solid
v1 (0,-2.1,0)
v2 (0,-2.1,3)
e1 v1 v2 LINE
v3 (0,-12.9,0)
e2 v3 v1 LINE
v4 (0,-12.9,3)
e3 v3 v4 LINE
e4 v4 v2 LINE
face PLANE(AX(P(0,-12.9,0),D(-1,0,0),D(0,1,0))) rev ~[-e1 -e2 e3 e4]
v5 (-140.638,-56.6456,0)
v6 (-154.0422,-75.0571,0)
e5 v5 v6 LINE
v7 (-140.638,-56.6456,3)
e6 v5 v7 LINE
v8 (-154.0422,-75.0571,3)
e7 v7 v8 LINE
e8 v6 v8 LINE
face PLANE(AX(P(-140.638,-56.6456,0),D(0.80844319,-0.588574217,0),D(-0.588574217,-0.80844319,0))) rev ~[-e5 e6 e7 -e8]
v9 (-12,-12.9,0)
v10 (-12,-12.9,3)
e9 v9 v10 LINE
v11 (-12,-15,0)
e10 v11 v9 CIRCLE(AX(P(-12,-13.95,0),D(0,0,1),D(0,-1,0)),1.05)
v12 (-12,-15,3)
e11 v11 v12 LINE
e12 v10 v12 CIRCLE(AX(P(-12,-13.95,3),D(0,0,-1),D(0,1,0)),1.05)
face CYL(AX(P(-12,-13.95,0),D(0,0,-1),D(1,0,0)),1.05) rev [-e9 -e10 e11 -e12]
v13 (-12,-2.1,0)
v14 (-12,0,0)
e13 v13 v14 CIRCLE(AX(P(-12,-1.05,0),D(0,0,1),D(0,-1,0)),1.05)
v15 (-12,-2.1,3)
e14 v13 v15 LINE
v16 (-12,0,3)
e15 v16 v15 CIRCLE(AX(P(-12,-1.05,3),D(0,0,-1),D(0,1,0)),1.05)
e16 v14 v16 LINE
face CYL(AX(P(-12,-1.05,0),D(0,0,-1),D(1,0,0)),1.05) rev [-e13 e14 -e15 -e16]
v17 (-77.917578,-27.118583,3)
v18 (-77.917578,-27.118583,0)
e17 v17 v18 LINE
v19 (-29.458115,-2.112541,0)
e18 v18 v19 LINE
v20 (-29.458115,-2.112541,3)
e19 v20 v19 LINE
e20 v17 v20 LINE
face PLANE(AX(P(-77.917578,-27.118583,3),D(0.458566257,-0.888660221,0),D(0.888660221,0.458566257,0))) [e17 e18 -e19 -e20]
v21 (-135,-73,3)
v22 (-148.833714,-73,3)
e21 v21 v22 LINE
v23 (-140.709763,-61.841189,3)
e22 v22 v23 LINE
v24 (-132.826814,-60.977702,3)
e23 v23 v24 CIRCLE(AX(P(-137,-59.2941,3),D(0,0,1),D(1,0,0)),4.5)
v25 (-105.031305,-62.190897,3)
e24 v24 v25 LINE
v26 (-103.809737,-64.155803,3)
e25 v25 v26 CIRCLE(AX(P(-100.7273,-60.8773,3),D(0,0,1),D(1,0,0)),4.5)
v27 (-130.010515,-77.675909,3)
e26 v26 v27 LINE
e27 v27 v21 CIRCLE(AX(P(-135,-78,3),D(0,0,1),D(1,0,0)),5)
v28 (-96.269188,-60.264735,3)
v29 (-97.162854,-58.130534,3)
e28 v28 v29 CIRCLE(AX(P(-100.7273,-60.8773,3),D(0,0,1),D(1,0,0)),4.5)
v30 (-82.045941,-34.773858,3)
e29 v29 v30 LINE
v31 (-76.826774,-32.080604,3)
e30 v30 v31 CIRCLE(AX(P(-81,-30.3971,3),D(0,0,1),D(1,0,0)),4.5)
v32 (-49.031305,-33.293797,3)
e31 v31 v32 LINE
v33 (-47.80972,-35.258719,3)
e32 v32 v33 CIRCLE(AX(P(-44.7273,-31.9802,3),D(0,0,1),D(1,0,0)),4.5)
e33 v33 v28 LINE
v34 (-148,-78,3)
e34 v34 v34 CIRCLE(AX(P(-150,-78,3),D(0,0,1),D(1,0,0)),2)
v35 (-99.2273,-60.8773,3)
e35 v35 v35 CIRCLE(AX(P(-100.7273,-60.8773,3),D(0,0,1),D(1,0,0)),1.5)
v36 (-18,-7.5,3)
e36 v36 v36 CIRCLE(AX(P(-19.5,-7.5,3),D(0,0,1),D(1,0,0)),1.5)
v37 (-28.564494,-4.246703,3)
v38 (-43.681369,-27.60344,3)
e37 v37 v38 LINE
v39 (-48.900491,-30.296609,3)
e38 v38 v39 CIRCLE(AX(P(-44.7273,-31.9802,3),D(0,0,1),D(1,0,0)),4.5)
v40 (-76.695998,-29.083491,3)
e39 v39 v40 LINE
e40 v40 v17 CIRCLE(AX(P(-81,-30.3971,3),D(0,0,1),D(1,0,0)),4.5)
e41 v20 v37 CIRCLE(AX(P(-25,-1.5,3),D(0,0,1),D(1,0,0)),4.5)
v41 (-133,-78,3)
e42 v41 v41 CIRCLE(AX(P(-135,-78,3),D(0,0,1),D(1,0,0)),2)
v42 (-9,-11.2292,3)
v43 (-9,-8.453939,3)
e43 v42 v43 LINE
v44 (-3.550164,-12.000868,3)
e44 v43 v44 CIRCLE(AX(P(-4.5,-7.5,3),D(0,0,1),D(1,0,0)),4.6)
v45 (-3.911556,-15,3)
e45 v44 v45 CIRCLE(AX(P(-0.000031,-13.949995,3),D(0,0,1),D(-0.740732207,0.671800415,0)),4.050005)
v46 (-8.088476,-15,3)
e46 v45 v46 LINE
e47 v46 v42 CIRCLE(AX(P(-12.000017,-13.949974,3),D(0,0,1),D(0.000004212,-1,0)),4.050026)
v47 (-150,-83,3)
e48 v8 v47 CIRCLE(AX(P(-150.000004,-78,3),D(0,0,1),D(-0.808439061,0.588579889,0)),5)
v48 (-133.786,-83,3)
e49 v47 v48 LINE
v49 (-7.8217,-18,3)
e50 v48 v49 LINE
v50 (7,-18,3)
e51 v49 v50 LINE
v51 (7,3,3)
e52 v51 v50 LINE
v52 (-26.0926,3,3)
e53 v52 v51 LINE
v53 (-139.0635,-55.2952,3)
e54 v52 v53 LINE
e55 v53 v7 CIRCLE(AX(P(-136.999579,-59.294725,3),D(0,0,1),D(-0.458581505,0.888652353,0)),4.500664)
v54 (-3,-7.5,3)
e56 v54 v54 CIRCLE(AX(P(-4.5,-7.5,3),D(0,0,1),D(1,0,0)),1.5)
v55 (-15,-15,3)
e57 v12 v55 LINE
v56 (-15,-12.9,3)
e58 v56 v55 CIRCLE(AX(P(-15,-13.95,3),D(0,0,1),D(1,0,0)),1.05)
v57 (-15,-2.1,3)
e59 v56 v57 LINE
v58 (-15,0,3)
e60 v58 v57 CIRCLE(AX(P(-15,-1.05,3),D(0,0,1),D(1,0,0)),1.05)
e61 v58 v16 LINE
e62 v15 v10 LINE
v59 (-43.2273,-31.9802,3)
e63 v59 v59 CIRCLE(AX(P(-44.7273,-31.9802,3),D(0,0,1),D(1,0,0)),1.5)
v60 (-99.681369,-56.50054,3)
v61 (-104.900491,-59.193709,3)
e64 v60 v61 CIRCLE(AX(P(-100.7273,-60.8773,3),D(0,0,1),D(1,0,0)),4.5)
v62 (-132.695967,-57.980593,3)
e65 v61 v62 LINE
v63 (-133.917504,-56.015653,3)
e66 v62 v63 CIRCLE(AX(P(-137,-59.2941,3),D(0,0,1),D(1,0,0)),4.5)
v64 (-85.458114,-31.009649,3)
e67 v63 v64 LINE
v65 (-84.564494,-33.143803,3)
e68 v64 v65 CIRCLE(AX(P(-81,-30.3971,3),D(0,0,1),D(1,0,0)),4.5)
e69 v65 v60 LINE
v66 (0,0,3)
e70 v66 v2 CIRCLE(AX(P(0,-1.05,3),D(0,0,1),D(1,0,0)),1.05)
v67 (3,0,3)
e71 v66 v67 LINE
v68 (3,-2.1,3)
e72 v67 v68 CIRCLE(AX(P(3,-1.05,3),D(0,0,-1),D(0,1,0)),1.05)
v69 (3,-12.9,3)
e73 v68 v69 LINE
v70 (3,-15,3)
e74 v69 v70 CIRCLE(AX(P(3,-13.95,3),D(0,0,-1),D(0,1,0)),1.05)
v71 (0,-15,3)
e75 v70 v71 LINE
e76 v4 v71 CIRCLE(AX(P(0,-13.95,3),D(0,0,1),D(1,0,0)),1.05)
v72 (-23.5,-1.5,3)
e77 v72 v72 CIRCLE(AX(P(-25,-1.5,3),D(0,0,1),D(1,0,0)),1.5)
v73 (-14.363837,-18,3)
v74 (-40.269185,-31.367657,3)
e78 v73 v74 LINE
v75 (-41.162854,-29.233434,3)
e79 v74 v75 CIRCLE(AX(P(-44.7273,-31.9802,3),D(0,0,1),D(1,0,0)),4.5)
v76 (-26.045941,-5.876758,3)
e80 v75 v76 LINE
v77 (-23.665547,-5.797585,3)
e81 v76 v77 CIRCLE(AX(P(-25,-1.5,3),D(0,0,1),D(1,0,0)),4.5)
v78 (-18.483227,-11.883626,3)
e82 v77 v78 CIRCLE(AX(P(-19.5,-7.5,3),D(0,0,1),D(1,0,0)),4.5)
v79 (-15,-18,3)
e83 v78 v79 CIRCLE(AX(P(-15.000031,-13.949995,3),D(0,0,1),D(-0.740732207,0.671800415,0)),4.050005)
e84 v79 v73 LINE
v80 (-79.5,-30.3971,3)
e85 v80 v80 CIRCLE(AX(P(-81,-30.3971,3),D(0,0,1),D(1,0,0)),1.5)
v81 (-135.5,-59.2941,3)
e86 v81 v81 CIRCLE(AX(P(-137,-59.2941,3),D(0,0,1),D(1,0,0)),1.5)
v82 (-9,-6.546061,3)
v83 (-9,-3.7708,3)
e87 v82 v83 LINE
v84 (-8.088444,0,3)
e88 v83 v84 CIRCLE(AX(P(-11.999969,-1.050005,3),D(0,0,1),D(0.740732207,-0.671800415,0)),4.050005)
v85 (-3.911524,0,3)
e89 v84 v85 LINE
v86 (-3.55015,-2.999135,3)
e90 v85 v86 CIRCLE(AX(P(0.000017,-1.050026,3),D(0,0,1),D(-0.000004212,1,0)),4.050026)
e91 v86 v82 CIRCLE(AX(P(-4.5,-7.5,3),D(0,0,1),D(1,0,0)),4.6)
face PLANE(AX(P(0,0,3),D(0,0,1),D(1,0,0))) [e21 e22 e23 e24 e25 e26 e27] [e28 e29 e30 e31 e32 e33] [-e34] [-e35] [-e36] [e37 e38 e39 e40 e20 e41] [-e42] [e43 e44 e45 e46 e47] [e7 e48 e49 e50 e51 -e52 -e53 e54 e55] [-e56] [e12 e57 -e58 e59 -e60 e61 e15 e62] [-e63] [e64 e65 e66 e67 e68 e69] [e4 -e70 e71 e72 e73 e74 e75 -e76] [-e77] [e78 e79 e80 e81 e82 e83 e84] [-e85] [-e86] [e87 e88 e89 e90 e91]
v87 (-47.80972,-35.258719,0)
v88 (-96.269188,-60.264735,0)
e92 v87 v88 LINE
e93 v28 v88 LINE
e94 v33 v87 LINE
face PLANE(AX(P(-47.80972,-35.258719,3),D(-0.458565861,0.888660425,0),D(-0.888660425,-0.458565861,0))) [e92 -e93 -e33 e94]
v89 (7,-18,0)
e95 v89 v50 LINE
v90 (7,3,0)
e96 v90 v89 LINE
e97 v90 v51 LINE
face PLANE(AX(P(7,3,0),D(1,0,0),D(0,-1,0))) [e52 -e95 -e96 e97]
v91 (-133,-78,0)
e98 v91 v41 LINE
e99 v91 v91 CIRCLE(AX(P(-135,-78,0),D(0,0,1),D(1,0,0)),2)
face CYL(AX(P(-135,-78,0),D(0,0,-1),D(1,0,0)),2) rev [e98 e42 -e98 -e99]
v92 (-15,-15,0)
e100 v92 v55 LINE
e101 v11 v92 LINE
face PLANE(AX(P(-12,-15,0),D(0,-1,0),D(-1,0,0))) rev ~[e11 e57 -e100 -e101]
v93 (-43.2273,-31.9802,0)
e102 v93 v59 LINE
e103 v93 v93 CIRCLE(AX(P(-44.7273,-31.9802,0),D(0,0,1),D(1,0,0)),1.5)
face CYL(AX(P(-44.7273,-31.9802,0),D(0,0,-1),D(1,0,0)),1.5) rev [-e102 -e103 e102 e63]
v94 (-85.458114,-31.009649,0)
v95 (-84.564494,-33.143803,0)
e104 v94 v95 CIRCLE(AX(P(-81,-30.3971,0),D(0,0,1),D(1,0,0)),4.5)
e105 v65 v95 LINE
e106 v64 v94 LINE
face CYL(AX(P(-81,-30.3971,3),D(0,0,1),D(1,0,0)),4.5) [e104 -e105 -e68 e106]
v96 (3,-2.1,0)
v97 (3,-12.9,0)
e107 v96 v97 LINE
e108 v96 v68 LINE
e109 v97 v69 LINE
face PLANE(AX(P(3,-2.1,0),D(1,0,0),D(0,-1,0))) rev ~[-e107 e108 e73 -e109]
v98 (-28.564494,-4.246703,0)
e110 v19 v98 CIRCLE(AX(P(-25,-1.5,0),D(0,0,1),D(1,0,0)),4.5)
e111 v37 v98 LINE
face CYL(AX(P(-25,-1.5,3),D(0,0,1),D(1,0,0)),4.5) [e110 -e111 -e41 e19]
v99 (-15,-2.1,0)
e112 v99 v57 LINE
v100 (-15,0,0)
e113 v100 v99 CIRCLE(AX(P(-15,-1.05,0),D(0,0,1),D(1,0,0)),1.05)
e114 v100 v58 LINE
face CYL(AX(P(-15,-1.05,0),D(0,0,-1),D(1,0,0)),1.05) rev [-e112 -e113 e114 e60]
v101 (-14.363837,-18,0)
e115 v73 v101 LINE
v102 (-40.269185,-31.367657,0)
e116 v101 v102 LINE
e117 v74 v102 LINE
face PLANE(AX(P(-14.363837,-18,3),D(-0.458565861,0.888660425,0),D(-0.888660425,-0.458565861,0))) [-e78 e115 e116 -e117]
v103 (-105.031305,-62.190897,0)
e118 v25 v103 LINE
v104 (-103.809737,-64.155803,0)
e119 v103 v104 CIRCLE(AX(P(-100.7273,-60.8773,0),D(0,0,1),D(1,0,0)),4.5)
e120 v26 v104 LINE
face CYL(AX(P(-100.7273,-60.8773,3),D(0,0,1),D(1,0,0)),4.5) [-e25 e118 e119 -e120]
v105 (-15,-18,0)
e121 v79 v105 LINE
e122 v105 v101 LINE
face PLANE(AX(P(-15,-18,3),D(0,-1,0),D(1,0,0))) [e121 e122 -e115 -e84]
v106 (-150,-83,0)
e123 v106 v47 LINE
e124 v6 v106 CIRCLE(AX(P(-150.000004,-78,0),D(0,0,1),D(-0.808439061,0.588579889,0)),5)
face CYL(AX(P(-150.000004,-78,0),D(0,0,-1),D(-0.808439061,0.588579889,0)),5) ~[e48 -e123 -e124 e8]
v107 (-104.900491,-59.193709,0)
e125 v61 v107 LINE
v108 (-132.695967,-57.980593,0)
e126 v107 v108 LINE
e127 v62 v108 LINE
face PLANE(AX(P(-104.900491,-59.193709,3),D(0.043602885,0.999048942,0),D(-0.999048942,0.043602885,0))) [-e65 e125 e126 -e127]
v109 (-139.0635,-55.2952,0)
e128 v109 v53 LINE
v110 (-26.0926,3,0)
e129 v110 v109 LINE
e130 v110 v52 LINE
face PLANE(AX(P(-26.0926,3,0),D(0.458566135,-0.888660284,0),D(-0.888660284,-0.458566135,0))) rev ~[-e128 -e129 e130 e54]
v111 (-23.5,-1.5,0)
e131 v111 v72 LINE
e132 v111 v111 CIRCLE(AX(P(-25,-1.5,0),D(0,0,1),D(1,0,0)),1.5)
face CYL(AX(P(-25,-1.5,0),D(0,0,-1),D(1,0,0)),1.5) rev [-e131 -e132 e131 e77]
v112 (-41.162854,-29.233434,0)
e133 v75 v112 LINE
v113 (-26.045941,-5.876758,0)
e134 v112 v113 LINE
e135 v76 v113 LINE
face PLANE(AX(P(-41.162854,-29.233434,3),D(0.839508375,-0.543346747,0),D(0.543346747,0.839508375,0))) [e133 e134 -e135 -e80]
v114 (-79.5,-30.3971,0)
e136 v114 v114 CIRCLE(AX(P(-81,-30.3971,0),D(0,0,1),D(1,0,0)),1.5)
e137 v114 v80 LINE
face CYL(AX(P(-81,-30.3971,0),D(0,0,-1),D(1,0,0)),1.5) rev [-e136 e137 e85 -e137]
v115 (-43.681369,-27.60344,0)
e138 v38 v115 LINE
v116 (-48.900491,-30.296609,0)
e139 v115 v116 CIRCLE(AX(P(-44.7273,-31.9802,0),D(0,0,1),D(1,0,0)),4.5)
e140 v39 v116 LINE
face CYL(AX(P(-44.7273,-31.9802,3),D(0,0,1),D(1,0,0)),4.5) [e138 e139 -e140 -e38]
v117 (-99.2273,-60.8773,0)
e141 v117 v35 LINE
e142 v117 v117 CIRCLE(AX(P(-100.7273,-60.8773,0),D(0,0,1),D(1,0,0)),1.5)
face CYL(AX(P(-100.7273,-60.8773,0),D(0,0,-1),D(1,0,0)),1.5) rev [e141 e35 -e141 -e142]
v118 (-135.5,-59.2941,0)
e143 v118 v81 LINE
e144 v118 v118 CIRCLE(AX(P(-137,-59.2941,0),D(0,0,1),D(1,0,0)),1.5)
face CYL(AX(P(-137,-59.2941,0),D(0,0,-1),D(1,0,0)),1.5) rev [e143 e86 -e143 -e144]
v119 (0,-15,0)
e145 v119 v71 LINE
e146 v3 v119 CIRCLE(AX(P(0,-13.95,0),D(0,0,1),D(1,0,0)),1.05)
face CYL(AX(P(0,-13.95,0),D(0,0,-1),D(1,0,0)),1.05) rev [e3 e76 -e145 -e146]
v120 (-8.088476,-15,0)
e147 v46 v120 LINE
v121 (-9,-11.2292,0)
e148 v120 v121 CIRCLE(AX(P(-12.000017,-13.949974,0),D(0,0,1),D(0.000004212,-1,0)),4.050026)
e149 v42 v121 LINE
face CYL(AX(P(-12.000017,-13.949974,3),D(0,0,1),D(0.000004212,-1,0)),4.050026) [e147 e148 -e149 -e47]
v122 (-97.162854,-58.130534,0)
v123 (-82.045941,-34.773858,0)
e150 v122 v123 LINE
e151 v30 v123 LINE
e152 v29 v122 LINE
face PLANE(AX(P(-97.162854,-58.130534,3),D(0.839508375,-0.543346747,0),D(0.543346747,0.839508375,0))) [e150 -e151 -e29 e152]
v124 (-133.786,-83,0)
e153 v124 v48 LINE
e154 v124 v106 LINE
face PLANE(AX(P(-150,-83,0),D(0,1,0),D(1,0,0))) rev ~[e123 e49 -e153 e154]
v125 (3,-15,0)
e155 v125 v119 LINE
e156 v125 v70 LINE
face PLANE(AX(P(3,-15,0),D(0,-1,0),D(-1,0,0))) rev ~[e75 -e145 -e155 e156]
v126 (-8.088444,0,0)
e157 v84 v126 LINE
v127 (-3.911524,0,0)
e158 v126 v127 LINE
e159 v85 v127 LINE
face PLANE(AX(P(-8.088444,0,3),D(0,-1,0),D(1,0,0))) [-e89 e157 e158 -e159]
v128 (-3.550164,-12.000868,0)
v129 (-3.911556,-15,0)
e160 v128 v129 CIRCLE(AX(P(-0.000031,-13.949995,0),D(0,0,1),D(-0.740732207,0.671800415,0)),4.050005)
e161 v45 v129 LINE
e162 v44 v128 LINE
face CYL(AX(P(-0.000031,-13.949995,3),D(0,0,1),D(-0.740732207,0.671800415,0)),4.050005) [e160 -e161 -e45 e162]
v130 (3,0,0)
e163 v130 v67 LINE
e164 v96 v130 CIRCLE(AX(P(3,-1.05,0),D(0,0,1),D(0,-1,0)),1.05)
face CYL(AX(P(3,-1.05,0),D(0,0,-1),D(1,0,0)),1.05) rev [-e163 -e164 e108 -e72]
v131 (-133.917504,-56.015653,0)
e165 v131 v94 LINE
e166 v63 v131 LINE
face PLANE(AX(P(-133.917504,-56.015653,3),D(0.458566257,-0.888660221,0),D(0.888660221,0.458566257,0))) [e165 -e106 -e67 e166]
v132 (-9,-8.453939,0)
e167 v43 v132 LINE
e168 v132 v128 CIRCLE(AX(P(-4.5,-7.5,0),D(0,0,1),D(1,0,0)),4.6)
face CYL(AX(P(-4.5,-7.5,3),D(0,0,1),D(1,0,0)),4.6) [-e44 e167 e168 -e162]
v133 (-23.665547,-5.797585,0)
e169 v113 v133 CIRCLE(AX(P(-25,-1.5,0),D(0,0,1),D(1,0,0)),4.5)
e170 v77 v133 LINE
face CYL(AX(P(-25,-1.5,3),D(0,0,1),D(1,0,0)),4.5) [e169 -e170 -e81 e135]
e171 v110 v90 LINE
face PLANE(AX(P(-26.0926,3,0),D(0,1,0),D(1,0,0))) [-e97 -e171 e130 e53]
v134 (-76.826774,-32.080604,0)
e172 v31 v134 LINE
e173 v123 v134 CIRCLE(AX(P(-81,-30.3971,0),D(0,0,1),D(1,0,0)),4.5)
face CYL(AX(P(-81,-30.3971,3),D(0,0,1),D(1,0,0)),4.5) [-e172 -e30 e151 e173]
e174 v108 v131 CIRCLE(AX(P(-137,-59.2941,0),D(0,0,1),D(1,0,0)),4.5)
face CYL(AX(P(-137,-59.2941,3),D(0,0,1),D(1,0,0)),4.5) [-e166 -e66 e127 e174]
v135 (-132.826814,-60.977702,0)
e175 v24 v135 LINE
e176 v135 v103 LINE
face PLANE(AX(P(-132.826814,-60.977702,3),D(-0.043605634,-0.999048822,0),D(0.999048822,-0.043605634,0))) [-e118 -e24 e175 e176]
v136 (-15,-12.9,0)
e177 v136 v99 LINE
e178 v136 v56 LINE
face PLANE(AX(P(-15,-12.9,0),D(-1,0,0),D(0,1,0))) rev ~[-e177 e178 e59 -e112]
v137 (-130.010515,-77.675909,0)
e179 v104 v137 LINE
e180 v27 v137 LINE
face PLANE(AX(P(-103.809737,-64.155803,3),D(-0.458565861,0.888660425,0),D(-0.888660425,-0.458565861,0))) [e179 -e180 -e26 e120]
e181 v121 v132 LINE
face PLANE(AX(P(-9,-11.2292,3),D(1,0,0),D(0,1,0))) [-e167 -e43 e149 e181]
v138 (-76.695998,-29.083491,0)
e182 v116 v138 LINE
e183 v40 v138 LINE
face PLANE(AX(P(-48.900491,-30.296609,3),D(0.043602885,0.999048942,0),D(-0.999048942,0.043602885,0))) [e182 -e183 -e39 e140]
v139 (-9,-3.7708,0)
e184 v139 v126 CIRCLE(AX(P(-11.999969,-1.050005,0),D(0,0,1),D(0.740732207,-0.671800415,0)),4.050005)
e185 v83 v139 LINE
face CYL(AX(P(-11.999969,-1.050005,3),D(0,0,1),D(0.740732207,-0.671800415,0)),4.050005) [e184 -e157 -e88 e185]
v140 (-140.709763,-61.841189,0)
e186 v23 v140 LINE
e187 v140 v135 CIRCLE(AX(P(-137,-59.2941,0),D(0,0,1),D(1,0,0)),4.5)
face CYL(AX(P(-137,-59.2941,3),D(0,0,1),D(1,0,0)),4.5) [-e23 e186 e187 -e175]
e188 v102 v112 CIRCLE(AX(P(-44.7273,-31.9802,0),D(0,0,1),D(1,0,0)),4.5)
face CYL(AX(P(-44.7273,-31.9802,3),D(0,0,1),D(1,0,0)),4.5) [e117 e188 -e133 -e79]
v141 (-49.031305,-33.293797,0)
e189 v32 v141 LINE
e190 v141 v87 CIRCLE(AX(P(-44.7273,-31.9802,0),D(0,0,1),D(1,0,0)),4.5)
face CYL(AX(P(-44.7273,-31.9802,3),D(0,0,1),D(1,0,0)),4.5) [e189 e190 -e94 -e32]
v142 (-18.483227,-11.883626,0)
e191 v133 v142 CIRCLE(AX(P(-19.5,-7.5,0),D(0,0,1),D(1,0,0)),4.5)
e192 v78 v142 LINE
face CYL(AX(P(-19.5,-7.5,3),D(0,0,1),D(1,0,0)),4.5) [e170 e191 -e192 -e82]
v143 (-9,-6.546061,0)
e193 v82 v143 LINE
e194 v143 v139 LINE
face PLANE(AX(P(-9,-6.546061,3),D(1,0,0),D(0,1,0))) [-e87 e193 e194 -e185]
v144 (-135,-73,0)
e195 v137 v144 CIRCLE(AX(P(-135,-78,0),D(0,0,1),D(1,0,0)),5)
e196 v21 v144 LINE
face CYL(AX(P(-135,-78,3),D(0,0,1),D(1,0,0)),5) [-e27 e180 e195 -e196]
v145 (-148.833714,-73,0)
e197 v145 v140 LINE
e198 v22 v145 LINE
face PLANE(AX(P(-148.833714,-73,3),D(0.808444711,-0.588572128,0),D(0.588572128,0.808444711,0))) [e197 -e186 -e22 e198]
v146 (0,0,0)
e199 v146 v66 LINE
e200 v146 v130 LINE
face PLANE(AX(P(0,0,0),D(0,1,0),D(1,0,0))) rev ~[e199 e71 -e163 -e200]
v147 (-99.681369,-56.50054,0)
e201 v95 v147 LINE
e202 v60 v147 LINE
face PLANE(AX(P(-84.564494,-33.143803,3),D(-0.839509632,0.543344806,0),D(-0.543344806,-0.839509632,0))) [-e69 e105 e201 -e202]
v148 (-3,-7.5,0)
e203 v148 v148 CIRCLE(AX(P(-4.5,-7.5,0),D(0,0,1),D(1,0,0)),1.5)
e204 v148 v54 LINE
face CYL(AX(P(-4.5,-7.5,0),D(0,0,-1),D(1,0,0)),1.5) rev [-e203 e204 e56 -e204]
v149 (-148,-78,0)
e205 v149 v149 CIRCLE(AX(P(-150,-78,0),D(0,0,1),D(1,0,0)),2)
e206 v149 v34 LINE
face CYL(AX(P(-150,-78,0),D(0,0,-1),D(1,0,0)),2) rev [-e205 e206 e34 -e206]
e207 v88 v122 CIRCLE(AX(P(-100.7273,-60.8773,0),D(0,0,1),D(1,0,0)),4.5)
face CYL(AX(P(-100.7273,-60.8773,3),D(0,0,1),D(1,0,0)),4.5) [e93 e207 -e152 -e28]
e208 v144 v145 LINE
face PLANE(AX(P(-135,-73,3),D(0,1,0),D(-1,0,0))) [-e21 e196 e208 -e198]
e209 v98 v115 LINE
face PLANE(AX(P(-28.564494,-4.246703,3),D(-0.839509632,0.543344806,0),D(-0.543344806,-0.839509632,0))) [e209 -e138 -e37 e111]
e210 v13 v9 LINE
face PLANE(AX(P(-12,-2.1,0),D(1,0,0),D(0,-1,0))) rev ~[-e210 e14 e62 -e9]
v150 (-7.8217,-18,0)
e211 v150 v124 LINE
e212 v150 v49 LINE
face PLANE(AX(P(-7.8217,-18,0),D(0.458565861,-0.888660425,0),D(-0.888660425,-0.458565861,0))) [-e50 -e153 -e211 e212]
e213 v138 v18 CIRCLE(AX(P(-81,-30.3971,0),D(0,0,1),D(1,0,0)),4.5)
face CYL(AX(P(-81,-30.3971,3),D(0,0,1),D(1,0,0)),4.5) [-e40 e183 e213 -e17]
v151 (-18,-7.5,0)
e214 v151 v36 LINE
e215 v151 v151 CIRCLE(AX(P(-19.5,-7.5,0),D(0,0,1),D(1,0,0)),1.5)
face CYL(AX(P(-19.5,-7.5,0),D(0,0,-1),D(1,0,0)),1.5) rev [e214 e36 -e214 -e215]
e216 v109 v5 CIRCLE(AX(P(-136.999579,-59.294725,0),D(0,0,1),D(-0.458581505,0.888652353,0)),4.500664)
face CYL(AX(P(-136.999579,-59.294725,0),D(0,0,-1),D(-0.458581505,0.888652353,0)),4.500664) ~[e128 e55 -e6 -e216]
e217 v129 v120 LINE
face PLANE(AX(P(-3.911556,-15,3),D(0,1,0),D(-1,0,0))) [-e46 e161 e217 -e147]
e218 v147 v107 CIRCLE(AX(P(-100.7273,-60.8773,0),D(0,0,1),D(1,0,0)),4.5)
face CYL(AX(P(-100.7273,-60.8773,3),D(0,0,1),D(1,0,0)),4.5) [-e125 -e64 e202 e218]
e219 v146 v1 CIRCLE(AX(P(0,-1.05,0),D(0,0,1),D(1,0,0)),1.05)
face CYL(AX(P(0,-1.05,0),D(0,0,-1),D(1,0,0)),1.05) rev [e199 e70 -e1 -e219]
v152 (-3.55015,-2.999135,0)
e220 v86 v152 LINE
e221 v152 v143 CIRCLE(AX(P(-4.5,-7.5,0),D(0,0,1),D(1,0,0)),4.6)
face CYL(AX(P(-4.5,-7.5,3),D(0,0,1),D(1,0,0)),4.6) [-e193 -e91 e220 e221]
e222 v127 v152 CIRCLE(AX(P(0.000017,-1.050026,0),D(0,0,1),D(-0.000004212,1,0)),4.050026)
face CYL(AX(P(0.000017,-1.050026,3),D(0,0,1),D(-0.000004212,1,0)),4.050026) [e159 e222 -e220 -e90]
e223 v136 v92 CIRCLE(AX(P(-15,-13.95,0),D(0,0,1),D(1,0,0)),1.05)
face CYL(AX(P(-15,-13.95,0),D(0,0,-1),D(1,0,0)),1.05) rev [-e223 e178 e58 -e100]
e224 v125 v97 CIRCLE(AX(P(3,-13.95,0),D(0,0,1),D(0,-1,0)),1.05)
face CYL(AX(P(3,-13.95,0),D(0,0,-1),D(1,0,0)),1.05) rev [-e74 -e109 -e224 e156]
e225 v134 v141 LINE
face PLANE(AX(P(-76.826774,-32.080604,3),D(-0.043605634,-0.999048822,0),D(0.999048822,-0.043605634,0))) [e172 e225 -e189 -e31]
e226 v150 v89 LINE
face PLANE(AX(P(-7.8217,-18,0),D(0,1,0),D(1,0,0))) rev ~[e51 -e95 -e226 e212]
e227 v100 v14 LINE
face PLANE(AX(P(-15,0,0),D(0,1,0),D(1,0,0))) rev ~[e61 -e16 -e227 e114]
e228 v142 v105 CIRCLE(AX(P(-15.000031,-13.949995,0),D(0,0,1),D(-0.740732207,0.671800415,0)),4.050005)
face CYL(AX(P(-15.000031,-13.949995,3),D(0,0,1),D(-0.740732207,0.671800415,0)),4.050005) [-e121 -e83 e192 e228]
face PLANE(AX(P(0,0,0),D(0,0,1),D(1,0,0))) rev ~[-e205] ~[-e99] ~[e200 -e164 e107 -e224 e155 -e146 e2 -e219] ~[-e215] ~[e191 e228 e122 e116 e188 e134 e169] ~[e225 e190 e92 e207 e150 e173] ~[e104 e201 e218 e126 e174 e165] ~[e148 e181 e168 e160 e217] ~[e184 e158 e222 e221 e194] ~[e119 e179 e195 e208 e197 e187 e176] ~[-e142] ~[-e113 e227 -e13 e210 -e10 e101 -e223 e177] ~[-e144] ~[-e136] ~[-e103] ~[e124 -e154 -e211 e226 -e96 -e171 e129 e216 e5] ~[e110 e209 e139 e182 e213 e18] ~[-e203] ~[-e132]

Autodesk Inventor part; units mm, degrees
ref_plane "YZ Plane" through (0, 0, 0) normal (1, 0, 0) x (0, 1, 0)
ref_plane "XZ Plane" through (0, 0, 0) normal (0, 1, 0) x (-1, 0, 0)
ref_plane "XY Plane" through (0, 0, 0) normal (0, 0, 1) x (1, 0, 0)
sketch "スケッチ1" plane through (0, 0, 0) normal (0, 0, 1) x (1, 0, 0)
  line L0 (0, 0) -> (3, 0)
  line L1 (3, 0) -> (3, -15)
  line L2 (3, -15) -> (0, -15)
  line L3 (0, -15) -> (0, 0)
  line L4 (-15, 0) -> (-12, 0)
  line L5 (-12, 0) -> (-12, -15)
  line L6 (-12, -15) -> (-15, -15)
  line L7 (-15, -15) -> (-15, 0)
  line L8 (-26.0926, 3) -> (-139.0635, -55.2952)
  line L9 (7, 3) -> (7, -18)
  line L10 (-7.8217, -18) -> (-133.786, -83)
  circle A0 centre (-135, -78) radius 2
  circle A1 centre (-150, -78) radius 2
  line L11 (-150, -78) -> (-135, -78) construction
  arc A2 (-154.0422, -75.0571) -> (-150, -83) centre (-150, -78) ccw
  line L12 (-140.638, -56.6456) -> (-154.0422, -75.0571)
  circle A3 centre (-15, -1.05) radius 1.05
  circle A4 centre (-15, -13.95) radius 1.05
  circle A5 centre (-12, -13.95) radius 1.05
  circle A6 centre (-12, -1.05) radius 1.05
  circle A7 centre (0, -1.05) radius 1.05
  circle A8 centre (3, -1.05) radius 1.05
  circle A9 centre (0, -13.95) radius 1.05
  circle A10 centre (3, -13.95) radius 1.05
  arc A11 (-139.0635, -55.2952) -> (-140.638, -56.6456) centre (-137, -59.2941) ccw
  circle A12 centre (-100.7273, -60.8773) radius 4.5 construction
  circle A13 centre (-81, -30.3971) radius 4.5 construction
  circle A14 centre (-44.7273, -31.9802) radius 4.5 construction
  circle A15 centre (-25, -1.5) radius 4.5 construction
  circle A16 centre (-137, -59.2941) radius 1.5
  circle A17 centre (-100.7273, -60.8773) radius 1.5
  circle A18 centre (-81, -30.3971) radius 1.5
  circle A19 centre (-44.7273, -31.9802) radius 1.5
  circle A20 centre (-25, -1.5) radius 1.5
  circle A21 centre (-4.5, -7.5) radius 1.5
  circle A22 centre (-19.5, -7.5) radius 1.5
  line L13 (-26.0926, 3) -> (7, 3)
  line L14 (-7.8217, -18) -> (7, -18)
  line L15 (-150, -83) -> (-133.786, -83)
  circle A23 centre (-135, -78) radius 5
  line L16 (-25, -1.5) -> (-44.7273, -31.9802) construction
  line L17 (-44.7273, -31.9802) -> (-81, -30.3971) construction
  line L18 (-81, -30.3971) -> (-100.7273, -60.8773) construction
  line L19 (-100.7273, -60.8773) -> (-137, -59.2941) construction
  point P0 (0, -12.9)
  point P1 (0, -2.1)
  point P2 (3, -2.1)
  point P3 (3, -12.9)
  point P4 (-12, -2.1)
  point P5 (-12, -12.9)
  point P6 (-15, -12.9)
  point P7 (-15, -2.1)
  dimension "d0" = 3
  dimension "d1" = 15
  dimension "d2" = 3
  dimension "d3" = 15
  dimension "d4" = 12
  dimension "d5" = 4
  dimension "d6" = 4
  dimension "d7" = 15
  dimension "d8" = 4
  dimension "d12" = 3
  dimension "d13" = 2.1
  dimension "d14" = 2.1
  dimension "d15" = 2.1
  dimension "d16" = 2.1
  dimension "d17" = 2.1
  dimension "d18" = 2.1
  dimension "d19" = 2.1
  dimension "d20" = 2.1
  dimension "d23" = 9
  dimension "d24" = 9
  dimension "d25" = 9
  dimension "d26" = 9
  dimension "d27" = 9
  dimension "d28" = 3
  dimension "d29" = 3
  dimension "d30" = 3
  dimension "d31" = 3
  dimension "d32" = 3
  dimension "d33" = 10
  dimension "d34" = 3
  dimension "d35" = 3
  dimension "d36" = 4.5
  dimension "d37" = 4.5
  dimension "d38" = 7.5
  dimension "d39" = 7.5
  dimension "d60" = 120
  dimension "d61" = 3
  dimension "d62" = 3
  dimension "d63" = 3
  dimension "d64" = 60
extrude "押し出し1" add sketch "スケッチ1" along normal blind 3
sketch "スケッチ3" plane through (0, 0, 3) normal (0, 0, 1) x (1, 0, 0)
  line L0 (-150, -83) -> (-133.786, -83) projected
  line L1 (-133.786, -83) -> (-7.8217, -18) projected
  line L2 (-7.8217, -18) -> (7, -18) projected
  line L3 (7, -18) -> (7, 3) projected
  line L4 (7, 3) -> (-26.0926, 3) projected
  line L5 (-26.0926, 3) -> (-139.0635, -55.2952) projected
  arc A0 (-139.0635, -55.2952) -> (-140.638, -56.6456) centre (-137, -59.2941) ccw projected
  line L6 (-140.638, -56.6456) -> (-154.0422, -75.0571) projected
  arc A1 (-154.0422, -75.0571) -> (-150, -83) centre (-150, -78) ccw projected
  circle A2 centre (-19.5, -7.5) radius 1.5 projected
  circle A3 centre (-25, -1.5) radius 1.5 projected
  circle A4 centre (-44.7273, -31.9802) radius 1.5 projected
  circle A5 centre (-81, -30.3971) radius 1.5 projected
  circle A6 centre (-100.7273, -60.8773) radius 1.5 projected
  circle A7 centre (-137, -59.2941) radius 1.5 projected
  arc A8 (3, -2.1) -> (3, 0) centre (3, -1.05) ccw projected
  line L7 (3, -2.1) -> (3, -12.9) projected
  arc A9 (3, -15) -> (3, -12.9) centre (3, -13.95) ccw projected
  line L8 (3, -15) -> (0, -15) projected
  arc A10 (0, -12.9) -> (0, -15) centre (0, -13.95) ccw projected
  line L9 (0, -12.9) -> (0, -2.1) projected
  arc A11 (0, 0) -> (0, -2.1) centre (0, -1.05) ccw projected
  line L10 (0, 0) -> (3, 0) projected
  circle A12 centre (-135, -78) radius 2 projected
  line L11 (-12, -2.1) -> (-12, -12.9) projected
  arc A13 (-12, -15) -> (-12, -12.9) centre (-12, -13.95) ccw projected
  line L12 (-12, -15) -> (-15, -15) projected
  arc A14 (-15, -12.9) -> (-15, -15) centre (-15, -13.95) ccw projected
  line L13 (-15, -12.9) -> (-15, -2.1) projected
  arc A15 (-15, 0) -> (-15, -2.1) centre (-15, -1.05) ccw projected
  line L14 (-15, 0) -> (-12, 0) projected
  arc A16 (-12, -2.1) -> (-12, 0) centre (-12, -1.05) ccw projected
  circle A17 centre (-4.5, -7.5) radius 1.5 projected
  circle A18 centre (-150, -78) radius 2 projected
  line L15 (-137.6878, -57.9612) -> (-25.3642, 0)
  line L16 (-25.3642, 0) -> (4, 0)
  line L17 (4, 0) -> (4, -15)
  line L18 (4, -15) -> (-8.5501, -15)
  line L19 (-8.5501, -15) -> (-134.5144, -80)
  line L20 (-134.5144, -80) -> (-150, -80)
  arc A19 (-151.6169, -76.8229) -> (-150, -80) centre (-150, -78) ccw
  line L21 (-151.6169, -76.8229) -> (-138.2127, -58.4113)
  arc A20 (-137.6878, -57.9612) -> (-138.2127, -58.4113) centre (-137, -59.2941) ccw
  circle A21 centre (-81, -30.3971) radius 4.5
  circle A22 centre (-100.7273, -60.8773) radius 4.5
  circle A23 centre (-137, -59.2941) radius 4.5
  circle A24 centre (-44.7273, -31.9802) radius 4.5
  circle A25 centre (-19.5, -7.5) radius 4.5
  line L22 (-9, -11.2292) -> (-9, -3.7708)
  arc A26 (-9, -3.7708) -> (-12, 3) centre (-12, -1.05) ccw
  line L23 (-12, 3) -> (-15, 3)
  arc A27 (-15, 3) -> (-18, -3.7708) centre (-15, -1.05) ccw
  line L24 (-18, -3.7708) -> (-18, -11.2292)
  arc A28 (-18, -11.2292) -> (-15, -18) centre (-15, -13.95) ccw
  line L25 (-15, -18) -> (-12, -18)
  arc A29 (-12, -18) -> (-9, -11.2292) centre (-12, -13.95) ccw
  circle A30 centre (-25, -1.5) radius 4.5
  line L26 (-3, -3.7708) -> (-3, -11.2292)
  arc A31 (-3, -11.2292) -> (0, -18) centre (0, -13.95) ccw
  line L27 (0, -18) -> (3, -18)
  arc A32 (3, -18) -> (6, -11.2292) centre (3, -13.95) ccw
  line L28 (6, -11.2292) -> (6, -3.7708)
  arc A33 (6, -3.7708) -> (3, 3) centre (3, -1.05) ccw
  line L29 (3, 3) -> (0, 3)
  arc A34 (0, 3) -> (-3, -3.7708) centre (0, -1.05) ccw
  circle A35 centre (-4.5, -7.5) radius 4.6
  circle A36 centre (-135, -78) radius 5
  circle A37 centre (-150, -78) radius 5
  line L30 (-135, -73) -> (-150, -73)
  circle A38 centre (-137, -59.2941) radius 1.5 projected
  line L31 (-137, -59.2941) -> (-100.7273, -60.8773) construction
  line L32 (-137.0654, -60.7927) -> (-100.7927, -62.3759)
  line L33 (-100.6619, -59.3787) -> (-136.9346, -57.7956)
  arc A39 (-136.9346, -57.7956) -> (-137.0654, -60.7927) centre (-137, -59.2941) ccw
  arc A40 (-100.7927, -62.3759) -> (-100.6619, -59.3787) centre (-100.7273, -60.8773) ccw
  line L34 (-81, -30.3971) -> (-100.7273, -60.8773) construction
  line L35 (-82.2593, -29.5821) -> (-101.9866, -60.0623)
  line L36 (-99.4681, -61.6923) -> (-79.7407, -31.2121)
  arc A41 (-79.7407, -31.2121) -> (-82.2593, -29.5821) centre (-81, -30.3971) ccw
  arc A42 (-101.9866, -60.0623) -> (-99.4681, -61.6923) centre (-100.7273, -60.8773) ccw
  line L37 (-81, -30.3971) -> (-44.7273, -31.9802) construction
  line L38 (-81.0654, -31.8956) -> (-44.7927, -33.4788)
  line L39 (-44.6619, -30.4816) -> (-80.9346, -28.8985)
  arc A43 (-80.9346, -28.8985) -> (-81.0654, -31.8956) centre (-81, -30.3971) ccw
  arc A44 (-44.7927, -33.4788) -> (-44.6619, -30.4816) centre (-44.7273, -31.9802) ccw
  line L40 (-25, -1.5) -> (-44.7273, -31.9802) construction
  line L41 (-26.2593, -0.685) -> (-45.9866, -31.1652)
  line L42 (-43.4681, -32.7952) -> (-23.7407, -2.315)
  arc A45 (-23.7407, -2.315) -> (-26.2593, -0.685) centre (-25, -1.5) ccw
  arc A46 (-45.9866, -31.1652) -> (-43.4681, -32.7952) centre (-44.7273, -31.9802) ccw
  point P0 (-118.8637, -60.0857)
  point P1 (-90.8637, -45.6372)
  point P2 (-62.8637, -31.1886)
  point P3 (-34.8637, -16.7401)
  point P4 (-3.5501, -12.0009)
  point P5 (-9, -8.4539)
  point P6 (-8.0885, -15)
  point P7 (-3.9115, -15)
  point P8 (-9, -6.5461)
  point P9 (-3.5501, -2.9991)
  point P10 (-3.9115, 0)
  point P11 (-8.0885, 0)
  point P12 (-26.046, -5.8768)
  point P13 (-41.1629, -29.2335)
  point P14 (-40.2692, -31.3677)
  point P15 (-14.3638, -18)
  point P16 (-18.4832, -11.8836)
  point P17 (-23.6655, -5.7976)
  point P18 (-43.6814, -27.6035)
  point P19 (-28.5645, -4.2467)
  point P20 (-29.4581, -2.1125)
  point P21 (-77.9176, -27.1186)
  point P22 (-76.696, -29.0835)
  point P23 (-48.9005, -30.2967)
  point P24 (-49.0314, -33.2938)
  point P25 (-76.8268, -32.0806)
  point P26 (-82.046, -34.7738)
  point P27 (-97.1629, -58.1306)
  point P28 (-96.2692, -60.2648)
  point P29 (-47.8098, -35.2587)
  point P30 (-99.6814, -56.5005)
  point P31 (-84.5645, -33.1438)
  point P32 (-85.4581, -31.0096)
  point P33 (-133.9176, -56.0156)
  point P34 (-132.696, -57.9806)
  point P35 (-104.9005, -59.1937)
  point P36 (-105.0314, -62.1909)
  point P37 (-132.8268, -60.9777)
  point P38 (-140.7098, -61.8412)
  point P39 (-148.8337, -73)
  point P40 (-130.0105, -77.6759)
  point P41 (-103.8098, -64.1558)
  dimension "d65" = 3
  dimension "d66" = 3
  dimension "d67" = 3
  dimension "d68" = 3
  dimension "d69" = 3
  dimension "d70" = 3
  dimension "d71" = 3
  dimension "d72" = 3
  dimension "d73" = 3
  dimension "d74" = 3.1
  dimension "d75" = 3
  dimension "d76" = 3
  dimension "d77" = 3
  dimension "d78" = 3
  dimension "d79" = 3
  dimension "d80" = 3
extrude "押し出し3" cut sketch "スケッチ3" against normal blind 3 contours L30 L21 A23 L32 A22 L19 A36 | L15 A21 L35 A22 L33 A23 | L19 A22 L36 A21 L38 A24 | L15 A30 L41 A24 L39 A21 | A24 L42 A30 A25 A28 L25 L19 | L18 A29 L22 A35 A31 | L16 A34 A35 L22 A26
properties part number "横回転カウンター根本" material "アルミニウム 7075"
